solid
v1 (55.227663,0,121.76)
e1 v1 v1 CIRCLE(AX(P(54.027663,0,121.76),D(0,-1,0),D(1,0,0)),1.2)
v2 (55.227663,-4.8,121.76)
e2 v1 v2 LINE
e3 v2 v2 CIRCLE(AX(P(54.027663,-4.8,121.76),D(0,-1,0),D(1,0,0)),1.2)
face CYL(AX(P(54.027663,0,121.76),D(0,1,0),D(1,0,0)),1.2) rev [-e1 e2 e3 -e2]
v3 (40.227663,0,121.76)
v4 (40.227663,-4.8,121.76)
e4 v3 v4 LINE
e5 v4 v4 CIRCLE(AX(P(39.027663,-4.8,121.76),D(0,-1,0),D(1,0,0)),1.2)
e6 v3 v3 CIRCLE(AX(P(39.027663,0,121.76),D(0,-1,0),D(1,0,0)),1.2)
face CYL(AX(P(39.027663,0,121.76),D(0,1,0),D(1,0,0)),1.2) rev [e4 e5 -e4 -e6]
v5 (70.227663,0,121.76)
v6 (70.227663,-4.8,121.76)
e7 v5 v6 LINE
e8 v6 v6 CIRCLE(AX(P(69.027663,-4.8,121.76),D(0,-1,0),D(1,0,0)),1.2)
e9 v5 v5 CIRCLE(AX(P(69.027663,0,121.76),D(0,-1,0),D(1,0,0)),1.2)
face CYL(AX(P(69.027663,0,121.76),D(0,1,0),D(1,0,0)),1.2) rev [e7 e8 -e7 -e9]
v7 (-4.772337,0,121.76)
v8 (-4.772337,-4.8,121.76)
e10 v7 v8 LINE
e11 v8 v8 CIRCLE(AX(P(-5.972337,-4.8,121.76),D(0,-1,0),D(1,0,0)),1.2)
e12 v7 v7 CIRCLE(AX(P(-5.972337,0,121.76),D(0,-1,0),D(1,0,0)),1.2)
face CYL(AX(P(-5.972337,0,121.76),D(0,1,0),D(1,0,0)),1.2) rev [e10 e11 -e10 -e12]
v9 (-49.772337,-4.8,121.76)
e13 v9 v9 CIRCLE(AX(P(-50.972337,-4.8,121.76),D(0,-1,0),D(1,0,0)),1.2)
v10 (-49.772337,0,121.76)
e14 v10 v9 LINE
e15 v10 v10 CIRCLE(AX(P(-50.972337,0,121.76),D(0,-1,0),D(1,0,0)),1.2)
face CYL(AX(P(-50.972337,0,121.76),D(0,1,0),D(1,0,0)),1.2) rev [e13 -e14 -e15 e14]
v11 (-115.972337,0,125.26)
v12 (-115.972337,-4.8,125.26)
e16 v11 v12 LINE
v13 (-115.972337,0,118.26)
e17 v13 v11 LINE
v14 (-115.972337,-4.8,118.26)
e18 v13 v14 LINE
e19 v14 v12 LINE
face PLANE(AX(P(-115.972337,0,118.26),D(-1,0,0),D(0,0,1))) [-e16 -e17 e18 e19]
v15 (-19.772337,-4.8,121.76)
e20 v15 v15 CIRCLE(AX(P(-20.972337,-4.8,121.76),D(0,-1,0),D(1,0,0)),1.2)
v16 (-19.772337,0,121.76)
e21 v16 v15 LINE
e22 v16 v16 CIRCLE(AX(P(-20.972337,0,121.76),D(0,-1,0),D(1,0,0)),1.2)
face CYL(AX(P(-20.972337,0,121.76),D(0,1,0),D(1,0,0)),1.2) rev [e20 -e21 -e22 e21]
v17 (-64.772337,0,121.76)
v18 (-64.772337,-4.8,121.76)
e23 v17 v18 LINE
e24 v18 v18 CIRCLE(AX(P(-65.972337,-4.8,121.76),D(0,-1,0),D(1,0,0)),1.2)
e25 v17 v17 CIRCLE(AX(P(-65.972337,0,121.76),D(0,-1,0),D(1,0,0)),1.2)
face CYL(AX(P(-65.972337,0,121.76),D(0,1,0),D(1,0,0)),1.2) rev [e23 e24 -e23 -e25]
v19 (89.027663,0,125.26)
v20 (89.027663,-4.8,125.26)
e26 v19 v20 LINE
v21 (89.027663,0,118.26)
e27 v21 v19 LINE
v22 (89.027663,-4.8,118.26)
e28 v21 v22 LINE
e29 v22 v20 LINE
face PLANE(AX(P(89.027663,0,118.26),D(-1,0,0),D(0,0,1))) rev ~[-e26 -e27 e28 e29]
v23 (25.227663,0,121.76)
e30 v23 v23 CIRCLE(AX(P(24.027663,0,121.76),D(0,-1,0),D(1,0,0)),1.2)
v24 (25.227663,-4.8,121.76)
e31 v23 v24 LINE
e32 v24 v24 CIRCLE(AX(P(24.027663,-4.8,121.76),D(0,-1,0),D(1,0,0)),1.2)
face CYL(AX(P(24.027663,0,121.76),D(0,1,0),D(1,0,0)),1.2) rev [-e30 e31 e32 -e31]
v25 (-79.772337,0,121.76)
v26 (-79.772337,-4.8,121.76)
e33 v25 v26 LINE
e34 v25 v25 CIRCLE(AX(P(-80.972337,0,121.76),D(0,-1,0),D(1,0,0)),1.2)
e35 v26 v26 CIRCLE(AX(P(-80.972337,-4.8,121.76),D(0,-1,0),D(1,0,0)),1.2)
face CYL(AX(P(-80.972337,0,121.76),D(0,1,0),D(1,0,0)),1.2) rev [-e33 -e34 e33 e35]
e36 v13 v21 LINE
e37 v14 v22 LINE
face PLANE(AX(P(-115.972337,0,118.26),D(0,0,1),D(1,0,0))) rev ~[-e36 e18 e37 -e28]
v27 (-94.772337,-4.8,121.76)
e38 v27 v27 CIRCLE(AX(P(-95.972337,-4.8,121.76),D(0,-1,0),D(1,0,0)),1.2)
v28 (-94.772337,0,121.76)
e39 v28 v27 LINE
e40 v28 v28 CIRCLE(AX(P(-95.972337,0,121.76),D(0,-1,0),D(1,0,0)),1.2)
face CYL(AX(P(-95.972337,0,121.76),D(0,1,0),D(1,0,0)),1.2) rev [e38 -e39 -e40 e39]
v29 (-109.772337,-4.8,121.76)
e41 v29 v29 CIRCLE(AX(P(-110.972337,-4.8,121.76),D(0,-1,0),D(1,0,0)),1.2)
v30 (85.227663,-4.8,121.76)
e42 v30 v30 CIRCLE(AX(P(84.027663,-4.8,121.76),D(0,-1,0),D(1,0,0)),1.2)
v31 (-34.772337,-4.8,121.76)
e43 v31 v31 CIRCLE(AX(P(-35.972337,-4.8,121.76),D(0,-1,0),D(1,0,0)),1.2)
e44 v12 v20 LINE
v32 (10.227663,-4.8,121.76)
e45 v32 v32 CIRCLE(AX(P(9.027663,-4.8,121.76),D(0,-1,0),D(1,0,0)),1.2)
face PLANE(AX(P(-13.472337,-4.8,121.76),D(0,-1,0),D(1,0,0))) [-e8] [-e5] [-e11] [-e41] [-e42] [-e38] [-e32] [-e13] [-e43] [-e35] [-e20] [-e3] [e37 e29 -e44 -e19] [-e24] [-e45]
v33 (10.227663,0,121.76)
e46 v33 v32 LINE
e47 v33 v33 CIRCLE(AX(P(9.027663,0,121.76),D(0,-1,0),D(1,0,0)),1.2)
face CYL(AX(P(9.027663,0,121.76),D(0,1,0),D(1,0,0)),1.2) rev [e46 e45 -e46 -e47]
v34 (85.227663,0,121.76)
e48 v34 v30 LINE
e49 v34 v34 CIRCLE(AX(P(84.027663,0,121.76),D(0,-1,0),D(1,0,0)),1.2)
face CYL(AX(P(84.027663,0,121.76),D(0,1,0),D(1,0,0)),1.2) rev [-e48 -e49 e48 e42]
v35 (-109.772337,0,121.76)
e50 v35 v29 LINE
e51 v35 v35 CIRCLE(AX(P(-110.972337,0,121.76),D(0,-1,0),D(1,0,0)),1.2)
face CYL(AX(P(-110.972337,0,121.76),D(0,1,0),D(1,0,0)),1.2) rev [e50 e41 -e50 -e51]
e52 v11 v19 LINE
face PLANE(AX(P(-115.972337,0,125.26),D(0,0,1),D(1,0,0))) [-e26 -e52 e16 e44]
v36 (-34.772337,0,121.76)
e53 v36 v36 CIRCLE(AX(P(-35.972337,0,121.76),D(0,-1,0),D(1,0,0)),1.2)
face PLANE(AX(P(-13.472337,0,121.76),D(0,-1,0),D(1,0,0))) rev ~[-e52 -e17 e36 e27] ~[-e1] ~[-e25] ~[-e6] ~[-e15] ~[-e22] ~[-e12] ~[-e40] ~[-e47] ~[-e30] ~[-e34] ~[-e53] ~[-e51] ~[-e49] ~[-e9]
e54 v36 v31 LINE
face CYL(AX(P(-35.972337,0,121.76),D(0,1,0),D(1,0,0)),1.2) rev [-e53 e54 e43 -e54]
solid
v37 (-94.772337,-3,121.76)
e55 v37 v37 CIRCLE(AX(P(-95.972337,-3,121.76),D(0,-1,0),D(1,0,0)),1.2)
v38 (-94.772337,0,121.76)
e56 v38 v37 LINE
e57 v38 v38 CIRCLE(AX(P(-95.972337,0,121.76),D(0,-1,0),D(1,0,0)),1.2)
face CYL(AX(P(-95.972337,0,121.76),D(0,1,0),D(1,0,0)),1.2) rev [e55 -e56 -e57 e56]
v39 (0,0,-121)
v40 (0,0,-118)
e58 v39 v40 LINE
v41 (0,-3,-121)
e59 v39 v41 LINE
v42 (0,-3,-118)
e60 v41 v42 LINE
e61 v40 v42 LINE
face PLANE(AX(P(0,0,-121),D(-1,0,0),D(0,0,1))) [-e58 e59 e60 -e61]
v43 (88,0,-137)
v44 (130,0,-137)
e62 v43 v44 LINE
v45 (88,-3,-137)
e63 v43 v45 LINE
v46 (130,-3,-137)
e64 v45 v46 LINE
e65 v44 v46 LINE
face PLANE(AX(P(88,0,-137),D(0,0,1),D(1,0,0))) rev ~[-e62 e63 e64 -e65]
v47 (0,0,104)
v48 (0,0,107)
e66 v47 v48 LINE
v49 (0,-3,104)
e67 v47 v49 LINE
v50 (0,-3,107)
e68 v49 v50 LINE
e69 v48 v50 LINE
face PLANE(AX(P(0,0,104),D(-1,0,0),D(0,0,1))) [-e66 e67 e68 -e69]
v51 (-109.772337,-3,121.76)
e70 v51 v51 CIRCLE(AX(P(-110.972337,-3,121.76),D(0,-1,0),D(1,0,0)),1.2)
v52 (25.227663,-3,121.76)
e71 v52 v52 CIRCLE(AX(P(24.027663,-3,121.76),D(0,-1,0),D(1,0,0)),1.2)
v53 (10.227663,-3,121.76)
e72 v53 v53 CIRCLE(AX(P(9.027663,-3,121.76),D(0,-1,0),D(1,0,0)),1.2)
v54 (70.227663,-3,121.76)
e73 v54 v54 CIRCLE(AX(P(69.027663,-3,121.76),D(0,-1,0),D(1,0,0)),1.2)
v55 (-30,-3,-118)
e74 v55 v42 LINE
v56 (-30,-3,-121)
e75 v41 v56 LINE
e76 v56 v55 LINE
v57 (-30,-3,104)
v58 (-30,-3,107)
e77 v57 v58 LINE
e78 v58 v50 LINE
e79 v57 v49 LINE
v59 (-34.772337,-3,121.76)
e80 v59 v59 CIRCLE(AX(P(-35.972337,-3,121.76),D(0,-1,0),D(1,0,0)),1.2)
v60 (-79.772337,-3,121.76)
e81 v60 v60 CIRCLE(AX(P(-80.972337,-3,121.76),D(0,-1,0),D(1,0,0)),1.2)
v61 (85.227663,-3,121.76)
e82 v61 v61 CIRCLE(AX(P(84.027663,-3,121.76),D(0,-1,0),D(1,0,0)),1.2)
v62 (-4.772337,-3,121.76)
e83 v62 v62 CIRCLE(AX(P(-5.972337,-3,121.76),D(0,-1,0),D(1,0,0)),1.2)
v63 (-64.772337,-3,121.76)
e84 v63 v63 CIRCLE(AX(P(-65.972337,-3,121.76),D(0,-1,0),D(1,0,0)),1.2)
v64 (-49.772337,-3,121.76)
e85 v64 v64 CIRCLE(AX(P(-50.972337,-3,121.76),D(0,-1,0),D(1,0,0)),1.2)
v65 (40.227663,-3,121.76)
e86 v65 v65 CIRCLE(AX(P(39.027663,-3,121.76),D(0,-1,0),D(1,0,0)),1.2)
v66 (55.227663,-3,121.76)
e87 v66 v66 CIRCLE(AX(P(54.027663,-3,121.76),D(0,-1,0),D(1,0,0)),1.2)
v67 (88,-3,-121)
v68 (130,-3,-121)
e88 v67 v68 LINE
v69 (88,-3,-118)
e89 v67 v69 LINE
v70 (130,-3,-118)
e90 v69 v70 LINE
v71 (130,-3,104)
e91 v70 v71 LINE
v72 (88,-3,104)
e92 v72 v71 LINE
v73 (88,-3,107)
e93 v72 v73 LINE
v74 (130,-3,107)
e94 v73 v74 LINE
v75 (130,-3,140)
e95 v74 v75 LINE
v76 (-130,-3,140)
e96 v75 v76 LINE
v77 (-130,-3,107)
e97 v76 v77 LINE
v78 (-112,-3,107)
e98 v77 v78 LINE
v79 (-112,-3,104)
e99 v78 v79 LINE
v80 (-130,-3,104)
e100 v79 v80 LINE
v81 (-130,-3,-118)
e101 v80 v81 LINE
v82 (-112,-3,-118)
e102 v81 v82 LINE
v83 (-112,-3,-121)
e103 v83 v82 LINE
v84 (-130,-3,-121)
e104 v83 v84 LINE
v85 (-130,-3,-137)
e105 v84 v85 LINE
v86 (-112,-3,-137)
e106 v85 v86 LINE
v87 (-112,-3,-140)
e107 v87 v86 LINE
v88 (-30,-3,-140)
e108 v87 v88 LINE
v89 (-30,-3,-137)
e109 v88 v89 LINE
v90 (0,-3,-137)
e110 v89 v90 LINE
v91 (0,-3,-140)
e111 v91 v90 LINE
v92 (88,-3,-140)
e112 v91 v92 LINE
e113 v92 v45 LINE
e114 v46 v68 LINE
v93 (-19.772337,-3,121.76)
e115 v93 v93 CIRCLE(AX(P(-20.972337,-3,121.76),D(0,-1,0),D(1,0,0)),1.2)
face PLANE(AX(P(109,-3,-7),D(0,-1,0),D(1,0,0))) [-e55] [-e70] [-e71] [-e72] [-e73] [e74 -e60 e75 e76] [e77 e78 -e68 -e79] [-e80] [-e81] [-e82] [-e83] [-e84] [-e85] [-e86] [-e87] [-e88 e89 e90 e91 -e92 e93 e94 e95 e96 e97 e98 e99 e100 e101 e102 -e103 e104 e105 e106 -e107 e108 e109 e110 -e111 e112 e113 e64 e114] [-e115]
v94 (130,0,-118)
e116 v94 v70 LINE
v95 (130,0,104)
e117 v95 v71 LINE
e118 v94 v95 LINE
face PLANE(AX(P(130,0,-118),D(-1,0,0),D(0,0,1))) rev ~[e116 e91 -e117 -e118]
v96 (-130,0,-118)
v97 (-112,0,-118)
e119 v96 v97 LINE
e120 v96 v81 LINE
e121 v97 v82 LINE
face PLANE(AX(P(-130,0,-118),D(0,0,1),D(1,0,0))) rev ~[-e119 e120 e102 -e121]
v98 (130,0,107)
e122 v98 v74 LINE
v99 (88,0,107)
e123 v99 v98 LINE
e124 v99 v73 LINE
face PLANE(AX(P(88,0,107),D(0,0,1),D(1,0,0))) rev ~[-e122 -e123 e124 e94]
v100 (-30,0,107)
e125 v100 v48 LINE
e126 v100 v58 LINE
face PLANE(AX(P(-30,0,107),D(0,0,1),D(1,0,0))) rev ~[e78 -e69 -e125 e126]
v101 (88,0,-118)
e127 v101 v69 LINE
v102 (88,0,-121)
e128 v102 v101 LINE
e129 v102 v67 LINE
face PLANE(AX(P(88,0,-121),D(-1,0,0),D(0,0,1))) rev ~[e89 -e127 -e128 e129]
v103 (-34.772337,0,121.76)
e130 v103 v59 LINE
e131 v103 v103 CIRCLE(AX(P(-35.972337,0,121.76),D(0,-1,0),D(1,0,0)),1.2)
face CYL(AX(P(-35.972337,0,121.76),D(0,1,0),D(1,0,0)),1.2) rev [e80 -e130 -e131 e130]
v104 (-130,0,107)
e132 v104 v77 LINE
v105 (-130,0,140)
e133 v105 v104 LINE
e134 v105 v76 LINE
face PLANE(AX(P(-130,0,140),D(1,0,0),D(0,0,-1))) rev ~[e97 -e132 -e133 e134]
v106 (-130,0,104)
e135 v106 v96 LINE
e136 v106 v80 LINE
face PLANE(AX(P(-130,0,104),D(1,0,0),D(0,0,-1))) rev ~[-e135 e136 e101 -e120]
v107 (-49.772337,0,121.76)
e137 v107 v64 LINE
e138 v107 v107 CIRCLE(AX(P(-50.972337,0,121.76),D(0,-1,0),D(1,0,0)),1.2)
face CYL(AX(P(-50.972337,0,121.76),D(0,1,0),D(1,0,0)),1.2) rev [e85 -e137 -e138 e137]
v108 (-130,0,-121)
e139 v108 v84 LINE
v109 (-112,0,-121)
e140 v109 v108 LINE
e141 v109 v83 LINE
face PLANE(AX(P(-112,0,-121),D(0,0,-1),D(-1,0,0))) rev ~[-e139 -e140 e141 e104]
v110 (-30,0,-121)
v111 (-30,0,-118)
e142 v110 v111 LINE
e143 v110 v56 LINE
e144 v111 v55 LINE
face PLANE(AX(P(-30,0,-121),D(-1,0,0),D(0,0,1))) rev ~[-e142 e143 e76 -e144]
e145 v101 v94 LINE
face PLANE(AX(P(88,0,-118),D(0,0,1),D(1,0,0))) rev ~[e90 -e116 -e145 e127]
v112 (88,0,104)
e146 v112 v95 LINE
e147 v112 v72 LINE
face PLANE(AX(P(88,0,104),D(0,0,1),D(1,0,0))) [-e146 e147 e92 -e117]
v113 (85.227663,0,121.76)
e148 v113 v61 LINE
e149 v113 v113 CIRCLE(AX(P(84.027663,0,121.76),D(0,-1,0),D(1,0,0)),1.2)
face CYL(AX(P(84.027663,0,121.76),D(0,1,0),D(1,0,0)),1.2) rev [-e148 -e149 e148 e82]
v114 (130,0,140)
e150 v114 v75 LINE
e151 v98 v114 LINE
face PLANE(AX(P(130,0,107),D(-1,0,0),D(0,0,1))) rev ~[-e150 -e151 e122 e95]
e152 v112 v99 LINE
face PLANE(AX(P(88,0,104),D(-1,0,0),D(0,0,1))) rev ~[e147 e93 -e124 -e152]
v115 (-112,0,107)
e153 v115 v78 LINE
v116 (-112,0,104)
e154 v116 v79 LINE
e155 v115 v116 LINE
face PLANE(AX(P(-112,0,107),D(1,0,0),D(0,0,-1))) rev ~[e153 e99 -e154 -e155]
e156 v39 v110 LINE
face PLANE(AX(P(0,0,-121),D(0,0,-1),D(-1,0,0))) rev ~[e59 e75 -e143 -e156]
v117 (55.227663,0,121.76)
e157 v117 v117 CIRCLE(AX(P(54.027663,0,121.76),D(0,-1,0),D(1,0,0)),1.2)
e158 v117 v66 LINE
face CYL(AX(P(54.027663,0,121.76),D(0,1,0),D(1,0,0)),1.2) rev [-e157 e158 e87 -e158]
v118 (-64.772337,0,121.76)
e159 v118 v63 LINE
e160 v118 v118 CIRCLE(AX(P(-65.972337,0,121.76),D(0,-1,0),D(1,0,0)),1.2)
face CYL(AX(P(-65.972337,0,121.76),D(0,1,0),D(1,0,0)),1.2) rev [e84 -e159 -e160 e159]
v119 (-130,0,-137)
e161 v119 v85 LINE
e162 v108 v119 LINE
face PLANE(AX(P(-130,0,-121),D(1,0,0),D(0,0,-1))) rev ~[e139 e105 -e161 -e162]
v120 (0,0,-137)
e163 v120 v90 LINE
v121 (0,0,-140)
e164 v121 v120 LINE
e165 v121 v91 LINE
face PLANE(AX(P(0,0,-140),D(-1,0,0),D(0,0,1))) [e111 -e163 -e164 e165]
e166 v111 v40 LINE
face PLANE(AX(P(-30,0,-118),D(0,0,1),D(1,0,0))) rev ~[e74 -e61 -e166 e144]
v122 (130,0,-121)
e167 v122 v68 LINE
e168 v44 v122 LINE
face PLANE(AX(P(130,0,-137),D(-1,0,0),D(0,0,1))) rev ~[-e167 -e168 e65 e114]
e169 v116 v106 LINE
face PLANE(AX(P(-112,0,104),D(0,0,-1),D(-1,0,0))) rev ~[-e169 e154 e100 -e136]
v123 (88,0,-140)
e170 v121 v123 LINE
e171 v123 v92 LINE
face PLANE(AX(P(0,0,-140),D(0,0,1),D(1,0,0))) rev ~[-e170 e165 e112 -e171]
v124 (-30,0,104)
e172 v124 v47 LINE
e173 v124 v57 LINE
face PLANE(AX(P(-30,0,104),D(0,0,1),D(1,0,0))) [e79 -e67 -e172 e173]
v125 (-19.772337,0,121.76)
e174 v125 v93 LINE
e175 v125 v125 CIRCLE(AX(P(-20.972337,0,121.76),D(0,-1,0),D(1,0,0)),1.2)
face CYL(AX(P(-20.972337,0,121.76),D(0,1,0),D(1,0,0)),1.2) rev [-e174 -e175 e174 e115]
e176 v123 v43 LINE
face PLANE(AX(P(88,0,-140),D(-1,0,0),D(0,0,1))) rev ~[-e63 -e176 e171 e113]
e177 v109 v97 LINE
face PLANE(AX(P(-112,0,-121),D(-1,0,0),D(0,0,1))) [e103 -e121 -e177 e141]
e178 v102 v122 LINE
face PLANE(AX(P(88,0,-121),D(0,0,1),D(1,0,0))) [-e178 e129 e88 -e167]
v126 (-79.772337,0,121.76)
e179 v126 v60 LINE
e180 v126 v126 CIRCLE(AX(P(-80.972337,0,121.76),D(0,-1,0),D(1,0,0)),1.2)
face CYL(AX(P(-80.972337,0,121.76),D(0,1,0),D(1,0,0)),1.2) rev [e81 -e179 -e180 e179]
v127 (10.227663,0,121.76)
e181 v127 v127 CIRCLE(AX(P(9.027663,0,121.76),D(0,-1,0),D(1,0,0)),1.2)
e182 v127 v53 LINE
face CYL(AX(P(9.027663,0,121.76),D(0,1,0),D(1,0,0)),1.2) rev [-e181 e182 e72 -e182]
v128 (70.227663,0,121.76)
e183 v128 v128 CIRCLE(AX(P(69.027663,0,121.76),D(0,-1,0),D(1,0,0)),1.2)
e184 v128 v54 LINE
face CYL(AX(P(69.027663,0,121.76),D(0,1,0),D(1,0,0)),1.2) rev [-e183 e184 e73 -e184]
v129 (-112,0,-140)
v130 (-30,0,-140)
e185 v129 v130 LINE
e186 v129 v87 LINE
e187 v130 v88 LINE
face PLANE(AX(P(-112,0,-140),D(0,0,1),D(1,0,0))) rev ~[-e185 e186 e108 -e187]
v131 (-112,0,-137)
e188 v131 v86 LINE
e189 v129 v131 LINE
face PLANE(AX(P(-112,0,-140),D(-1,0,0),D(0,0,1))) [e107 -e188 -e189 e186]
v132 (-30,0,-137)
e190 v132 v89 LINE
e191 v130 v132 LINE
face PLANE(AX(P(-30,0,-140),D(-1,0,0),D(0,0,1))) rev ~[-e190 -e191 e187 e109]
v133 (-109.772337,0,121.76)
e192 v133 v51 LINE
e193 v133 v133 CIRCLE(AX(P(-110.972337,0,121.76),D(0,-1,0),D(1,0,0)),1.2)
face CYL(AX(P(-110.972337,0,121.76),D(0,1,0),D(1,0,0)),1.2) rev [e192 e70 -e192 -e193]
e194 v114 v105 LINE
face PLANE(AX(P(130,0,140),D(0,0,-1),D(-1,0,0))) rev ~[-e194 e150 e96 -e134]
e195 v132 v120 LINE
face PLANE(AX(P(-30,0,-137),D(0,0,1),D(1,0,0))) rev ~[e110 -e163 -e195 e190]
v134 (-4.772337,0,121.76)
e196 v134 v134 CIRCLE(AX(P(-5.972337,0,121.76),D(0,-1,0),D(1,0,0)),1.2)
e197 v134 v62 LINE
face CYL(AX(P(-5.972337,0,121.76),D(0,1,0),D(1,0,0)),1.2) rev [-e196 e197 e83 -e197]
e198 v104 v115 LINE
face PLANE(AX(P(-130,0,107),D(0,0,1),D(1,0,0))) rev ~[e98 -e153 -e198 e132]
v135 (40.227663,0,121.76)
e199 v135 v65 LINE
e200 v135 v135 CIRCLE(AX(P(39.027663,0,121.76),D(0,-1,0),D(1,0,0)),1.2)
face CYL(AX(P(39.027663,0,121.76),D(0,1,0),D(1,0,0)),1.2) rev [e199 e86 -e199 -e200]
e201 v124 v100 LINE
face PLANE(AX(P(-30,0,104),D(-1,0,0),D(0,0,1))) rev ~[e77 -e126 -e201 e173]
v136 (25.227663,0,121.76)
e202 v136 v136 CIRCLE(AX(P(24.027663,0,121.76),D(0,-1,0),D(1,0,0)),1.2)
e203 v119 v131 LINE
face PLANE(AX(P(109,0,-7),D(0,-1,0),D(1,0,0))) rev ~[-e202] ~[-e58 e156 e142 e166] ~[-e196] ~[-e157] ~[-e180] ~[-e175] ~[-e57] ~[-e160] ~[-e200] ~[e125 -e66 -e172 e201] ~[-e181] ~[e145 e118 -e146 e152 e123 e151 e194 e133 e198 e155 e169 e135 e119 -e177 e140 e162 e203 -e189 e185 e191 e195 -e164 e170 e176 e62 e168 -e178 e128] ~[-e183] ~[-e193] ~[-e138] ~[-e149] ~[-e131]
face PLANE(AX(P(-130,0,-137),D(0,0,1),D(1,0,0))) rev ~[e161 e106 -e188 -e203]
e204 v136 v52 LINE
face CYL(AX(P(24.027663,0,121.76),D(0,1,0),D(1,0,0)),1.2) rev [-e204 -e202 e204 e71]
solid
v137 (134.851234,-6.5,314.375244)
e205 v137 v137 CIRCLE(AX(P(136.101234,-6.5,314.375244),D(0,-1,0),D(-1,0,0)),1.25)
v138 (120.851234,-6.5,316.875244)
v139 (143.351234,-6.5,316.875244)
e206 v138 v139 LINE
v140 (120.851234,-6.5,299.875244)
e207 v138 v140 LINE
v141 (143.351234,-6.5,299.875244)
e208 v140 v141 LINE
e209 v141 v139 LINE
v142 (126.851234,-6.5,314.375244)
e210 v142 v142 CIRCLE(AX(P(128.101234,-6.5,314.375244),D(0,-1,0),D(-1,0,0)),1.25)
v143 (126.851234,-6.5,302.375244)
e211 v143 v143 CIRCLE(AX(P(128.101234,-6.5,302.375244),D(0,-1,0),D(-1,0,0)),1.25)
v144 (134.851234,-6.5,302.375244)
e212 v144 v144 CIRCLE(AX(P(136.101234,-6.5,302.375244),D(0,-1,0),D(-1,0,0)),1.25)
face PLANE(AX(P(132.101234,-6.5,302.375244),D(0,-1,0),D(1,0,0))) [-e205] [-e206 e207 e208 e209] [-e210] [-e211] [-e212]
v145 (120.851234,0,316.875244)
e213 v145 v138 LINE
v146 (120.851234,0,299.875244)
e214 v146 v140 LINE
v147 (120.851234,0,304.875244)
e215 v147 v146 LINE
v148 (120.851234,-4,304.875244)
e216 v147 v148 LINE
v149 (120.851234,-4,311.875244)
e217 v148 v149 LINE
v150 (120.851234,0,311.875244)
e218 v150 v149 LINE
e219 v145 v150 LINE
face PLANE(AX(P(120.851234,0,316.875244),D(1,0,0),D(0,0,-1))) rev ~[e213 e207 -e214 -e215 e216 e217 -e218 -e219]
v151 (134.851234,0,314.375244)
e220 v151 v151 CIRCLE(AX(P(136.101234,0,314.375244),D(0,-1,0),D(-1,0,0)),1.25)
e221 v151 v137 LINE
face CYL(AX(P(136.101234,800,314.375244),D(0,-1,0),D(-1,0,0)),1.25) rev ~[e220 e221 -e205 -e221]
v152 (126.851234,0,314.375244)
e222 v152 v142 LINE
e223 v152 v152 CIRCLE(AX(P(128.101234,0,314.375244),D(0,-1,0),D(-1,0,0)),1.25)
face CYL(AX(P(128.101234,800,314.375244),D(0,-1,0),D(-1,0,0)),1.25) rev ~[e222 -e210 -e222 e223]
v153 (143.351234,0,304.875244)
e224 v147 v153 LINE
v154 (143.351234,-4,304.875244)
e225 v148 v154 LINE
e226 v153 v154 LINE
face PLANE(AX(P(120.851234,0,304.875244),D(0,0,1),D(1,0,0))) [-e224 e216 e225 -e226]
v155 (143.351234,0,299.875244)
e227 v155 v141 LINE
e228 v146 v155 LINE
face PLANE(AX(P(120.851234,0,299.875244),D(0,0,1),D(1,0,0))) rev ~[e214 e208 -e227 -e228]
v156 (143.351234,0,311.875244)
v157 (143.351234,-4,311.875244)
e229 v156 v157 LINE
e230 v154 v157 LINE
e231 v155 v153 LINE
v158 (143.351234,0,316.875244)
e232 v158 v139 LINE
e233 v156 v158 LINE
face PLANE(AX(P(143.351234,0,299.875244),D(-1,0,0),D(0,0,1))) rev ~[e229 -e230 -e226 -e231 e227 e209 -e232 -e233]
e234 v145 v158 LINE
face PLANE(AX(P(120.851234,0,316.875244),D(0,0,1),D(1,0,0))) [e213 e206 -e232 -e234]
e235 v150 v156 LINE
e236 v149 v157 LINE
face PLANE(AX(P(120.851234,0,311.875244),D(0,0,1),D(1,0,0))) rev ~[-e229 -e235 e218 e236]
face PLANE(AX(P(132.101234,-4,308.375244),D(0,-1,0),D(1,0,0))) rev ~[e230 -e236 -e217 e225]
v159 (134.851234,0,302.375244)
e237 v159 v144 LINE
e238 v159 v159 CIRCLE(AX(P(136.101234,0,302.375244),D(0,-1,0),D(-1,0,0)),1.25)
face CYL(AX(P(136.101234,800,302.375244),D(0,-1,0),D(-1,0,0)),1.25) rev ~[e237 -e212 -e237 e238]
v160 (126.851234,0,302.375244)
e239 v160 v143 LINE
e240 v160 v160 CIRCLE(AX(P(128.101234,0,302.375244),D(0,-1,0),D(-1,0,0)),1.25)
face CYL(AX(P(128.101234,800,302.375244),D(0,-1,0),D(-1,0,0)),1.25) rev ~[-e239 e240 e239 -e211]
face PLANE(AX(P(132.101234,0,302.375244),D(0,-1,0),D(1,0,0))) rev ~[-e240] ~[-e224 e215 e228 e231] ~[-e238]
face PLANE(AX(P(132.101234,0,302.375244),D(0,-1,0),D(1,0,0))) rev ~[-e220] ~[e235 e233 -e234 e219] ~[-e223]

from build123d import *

# Parameters (mm, degrees)
F0_W     = 42
F0_H     = 222
F0_H_2   = 16
F0_W_2   = 30
F0_H_3   = 3
F0_W_3   = 205
F0_H_4   = 7
F0_W_4   = 3
F0_W_5   = 82
F0_W_6   = 85
F0_R     = 1.2
F1_DEPTH = 3
F2_DEPTH = 4.8
F0_W_7   = 22.5
F0_H_5   = 5
F3_DEPTH = 6.5
F4_DEPTH = 4
F5_D     = 2.5
F5_DEPTH = 800
F5_TIP   = 0.7510757738


with BuildPart() as f1:
    # F0 (on Front) → F1 (new body)
    with BuildSketch(Plane.XZ):
        with Locations((109, -7)):
            Rectangle(F0_W, F0_H)
        with Locations((109, -129)):
            Rectangle(F0_W, F0_H_2)
        Polygon((130, 140), (-130, 140), (-130, 107), (-112, 107), (-112, 104), (-130, 104), (-130, -118), (-112, -118), (-30, -118), (0, -118), (85, -118), (85, 104), (88, 104), (88, 107), (130, 107), align=None)
        with Locations((-15, 105.5)):
            Rectangle(F0_W_2, F0_H_3, mode=Mode.SUBTRACT)
        with Locations((-13.4723374248, 121.76)):
            Rectangle(F0_W_3, F0_H_4, mode=Mode.SUBTRACT)
        with Locations((86.5, -138.5)):
            Rectangle(F0_W_4, F0_H_3)
        with Locations((86.5, -7)):
            Rectangle(F0_W_4, F0_H)
        with Locations((86.5, -119.5)):
            Rectangle(F0_W_4, F0_H_3)
        with Locations((86.5, -129)):
            Rectangle(F0_W_4, F0_H_2)
        Polygon((-112, -121), (-130, -121), (-130, -137), (-112, -137), (-30, -137), (0, -137), (85, -137), (85, -121), (0, -121), (-30, -121), align=None)
        with Locations((-71, -138.5)):
            Rectangle(F0_W_5, F0_H_3)
        with Locations((42.5, -138.5)):
            Rectangle(F0_W_6, F0_H_3)
        with Locations((42.5, -119.5)):
            Rectangle(F0_W_6, F0_H_3)
        with Locations((-71, -119.5)):
            Rectangle(F0_W_5, F0_H_3)
        with Locations((-13.4723374248, 121.76)):
            Rectangle(F0_W_3, F0_H_4)
        with Locations((-110.9723374248, 121.76)):
            Circle(F0_R, mode=Mode.SUBTRACT)
        with Locations((-95.9723374248, 121.76)):
            Circle(F0_R, mode=Mode.SUBTRACT)
        with Locations((-80.9723374248, 121.76)):
            Circle(F0_R, mode=Mode.SUBTRACT)
        with Locations((-65.9723374248, 121.76)):
            Circle(F0_R, mode=Mode.SUBTRACT)
        with Locations((-50.9723374248, 121.76)):
            Circle(F0_R, mode=Mode.SUBTRACT)
        with Locations((-35.9723374248, 121.76)):
            Circle(F0_R, mode=Mode.SUBTRACT)
        with Locations((-20.9723374248, 121.76)):
            Circle(F0_R, mode=Mode.SUBTRACT)
        with Locations((-5.9723374248, 121.76)):
            Circle(F0_R, mode=Mode.SUBTRACT)
        with Locations((9.0276625752, 121.76)):
            Circle(F0_R, mode=Mode.SUBTRACT)
        with Locations((24.0276625752, 121.76)):
            Circle(F0_R, mode=Mode.SUBTRACT)
        with Locations((39.0276625752, 121.76)):
            Circle(F0_R, mode=Mode.SUBTRACT)
        with Locations((54.0276625752, 121.76)):
            Circle(F0_R, mode=Mode.SUBTRACT)
        with Locations((69.0276625752, 121.76)):
            Circle(F0_R, mode=Mode.SUBTRACT)
        with Locations((84.0276625752, 121.76)):
            Circle(F0_R, mode=Mode.SUBTRACT)
    extrude(amount=F1_DEPTH)


with BuildPart() as f2:
    # F0 (on Front) → F2 (new body)
    with BuildSketch(Plane.XZ):
        with Locations((-13.4723374248, 121.76)):
            Rectangle(F0_W_3, F0_H_4)
        with Locations((-110.9723374248, 121.76)):
            Circle(F0_R, mode=Mode.SUBTRACT)
        with Locations((-95.9723374248, 121.76)):
            Circle(F0_R, mode=Mode.SUBTRACT)
        with Locations((-80.9723374248, 121.76)):
            Circle(F0_R, mode=Mode.SUBTRACT)
        with Locations((-65.9723374248, 121.76)):
            Circle(F0_R, mode=Mode.SUBTRACT)
        with Locations((-50.9723374248, 121.76)):
            Circle(F0_R, mode=Mode.SUBTRACT)
        with Locations((-35.9723374248, 121.76)):
            Circle(F0_R, mode=Mode.SUBTRACT)
        with Locations((-20.9723374248, 121.76)):
            Circle(F0_R, mode=Mode.SUBTRACT)
        with Locations((-5.9723374248, 121.76)):
            Circle(F0_R, mode=Mode.SUBTRACT)
        with Locations((9.0276625752, 121.76)):
            Circle(F0_R, mode=Mode.SUBTRACT)
        with Locations((24.0276625752, 121.76)):
            Circle(F0_R, mode=Mode.SUBTRACT)
        with Locations((39.0276625752, 121.76)):
            Circle(F0_R, mode=Mode.SUBTRACT)
        with Locations((54.0276625752, 121.76)):
            Circle(F0_R, mode=Mode.SUBTRACT)
        with Locations((69.0276625752, 121.76)):
            Circle(F0_R, mode=Mode.SUBTRACT)
        with Locations((84.0276625752, 121.76)):
            Circle(F0_R, mode=Mode.SUBTRACT)
    extrude(amount=F2_DEPTH)


with BuildPart() as f3:
    # F0 (on Front) → F3 (new body)
    with BuildSketch(Plane.XZ):
        with Locations((132.1012344956, 302.3752444983)):
            Rectangle(F0_W_7, F0_H_5)
        with Locations((132.1012344956, 308.3752444983)):
            Rectangle(F0_W_7, F0_H_4)
        with Locations((132.1012344956, 314.3752444983)):
            Rectangle(F0_W_7, F0_H_5)
    extrude(amount=F3_DEPTH)

    # F0 (on Front) → F4 (cut)
    with BuildSketch(Plane.XZ):
        with Locations((132.1012344956, 308.3752444983)):
            Rectangle(F0_W_7, F0_H_4)
    extrude(amount=F4_DEPTH, mode=Mode.SUBTRACT)

    # F5
    with Locations(Plane(origin=(0, 0, 0), x_dir=(1, 0, 0), z_dir=(0, 1, 0))):
        with Locations((136.1012344956, -314.3752444983), (128.1012344956, -314.3752444983), (128.1012344956, -302.3752444983), (136.1012344956, -302.3752444983)):
            Hole(F5_D / 2, depth=F5_DEPTH)
            with Locations((0, 0, -(F5_DEPTH + F5_TIP / 2))):  # 118° drill point
                Cone(0, F5_D / 2, F5_TIP, mode=Mode.SUBTRACT)


solid = Compound([f1.part, f2.part, f3.part])
